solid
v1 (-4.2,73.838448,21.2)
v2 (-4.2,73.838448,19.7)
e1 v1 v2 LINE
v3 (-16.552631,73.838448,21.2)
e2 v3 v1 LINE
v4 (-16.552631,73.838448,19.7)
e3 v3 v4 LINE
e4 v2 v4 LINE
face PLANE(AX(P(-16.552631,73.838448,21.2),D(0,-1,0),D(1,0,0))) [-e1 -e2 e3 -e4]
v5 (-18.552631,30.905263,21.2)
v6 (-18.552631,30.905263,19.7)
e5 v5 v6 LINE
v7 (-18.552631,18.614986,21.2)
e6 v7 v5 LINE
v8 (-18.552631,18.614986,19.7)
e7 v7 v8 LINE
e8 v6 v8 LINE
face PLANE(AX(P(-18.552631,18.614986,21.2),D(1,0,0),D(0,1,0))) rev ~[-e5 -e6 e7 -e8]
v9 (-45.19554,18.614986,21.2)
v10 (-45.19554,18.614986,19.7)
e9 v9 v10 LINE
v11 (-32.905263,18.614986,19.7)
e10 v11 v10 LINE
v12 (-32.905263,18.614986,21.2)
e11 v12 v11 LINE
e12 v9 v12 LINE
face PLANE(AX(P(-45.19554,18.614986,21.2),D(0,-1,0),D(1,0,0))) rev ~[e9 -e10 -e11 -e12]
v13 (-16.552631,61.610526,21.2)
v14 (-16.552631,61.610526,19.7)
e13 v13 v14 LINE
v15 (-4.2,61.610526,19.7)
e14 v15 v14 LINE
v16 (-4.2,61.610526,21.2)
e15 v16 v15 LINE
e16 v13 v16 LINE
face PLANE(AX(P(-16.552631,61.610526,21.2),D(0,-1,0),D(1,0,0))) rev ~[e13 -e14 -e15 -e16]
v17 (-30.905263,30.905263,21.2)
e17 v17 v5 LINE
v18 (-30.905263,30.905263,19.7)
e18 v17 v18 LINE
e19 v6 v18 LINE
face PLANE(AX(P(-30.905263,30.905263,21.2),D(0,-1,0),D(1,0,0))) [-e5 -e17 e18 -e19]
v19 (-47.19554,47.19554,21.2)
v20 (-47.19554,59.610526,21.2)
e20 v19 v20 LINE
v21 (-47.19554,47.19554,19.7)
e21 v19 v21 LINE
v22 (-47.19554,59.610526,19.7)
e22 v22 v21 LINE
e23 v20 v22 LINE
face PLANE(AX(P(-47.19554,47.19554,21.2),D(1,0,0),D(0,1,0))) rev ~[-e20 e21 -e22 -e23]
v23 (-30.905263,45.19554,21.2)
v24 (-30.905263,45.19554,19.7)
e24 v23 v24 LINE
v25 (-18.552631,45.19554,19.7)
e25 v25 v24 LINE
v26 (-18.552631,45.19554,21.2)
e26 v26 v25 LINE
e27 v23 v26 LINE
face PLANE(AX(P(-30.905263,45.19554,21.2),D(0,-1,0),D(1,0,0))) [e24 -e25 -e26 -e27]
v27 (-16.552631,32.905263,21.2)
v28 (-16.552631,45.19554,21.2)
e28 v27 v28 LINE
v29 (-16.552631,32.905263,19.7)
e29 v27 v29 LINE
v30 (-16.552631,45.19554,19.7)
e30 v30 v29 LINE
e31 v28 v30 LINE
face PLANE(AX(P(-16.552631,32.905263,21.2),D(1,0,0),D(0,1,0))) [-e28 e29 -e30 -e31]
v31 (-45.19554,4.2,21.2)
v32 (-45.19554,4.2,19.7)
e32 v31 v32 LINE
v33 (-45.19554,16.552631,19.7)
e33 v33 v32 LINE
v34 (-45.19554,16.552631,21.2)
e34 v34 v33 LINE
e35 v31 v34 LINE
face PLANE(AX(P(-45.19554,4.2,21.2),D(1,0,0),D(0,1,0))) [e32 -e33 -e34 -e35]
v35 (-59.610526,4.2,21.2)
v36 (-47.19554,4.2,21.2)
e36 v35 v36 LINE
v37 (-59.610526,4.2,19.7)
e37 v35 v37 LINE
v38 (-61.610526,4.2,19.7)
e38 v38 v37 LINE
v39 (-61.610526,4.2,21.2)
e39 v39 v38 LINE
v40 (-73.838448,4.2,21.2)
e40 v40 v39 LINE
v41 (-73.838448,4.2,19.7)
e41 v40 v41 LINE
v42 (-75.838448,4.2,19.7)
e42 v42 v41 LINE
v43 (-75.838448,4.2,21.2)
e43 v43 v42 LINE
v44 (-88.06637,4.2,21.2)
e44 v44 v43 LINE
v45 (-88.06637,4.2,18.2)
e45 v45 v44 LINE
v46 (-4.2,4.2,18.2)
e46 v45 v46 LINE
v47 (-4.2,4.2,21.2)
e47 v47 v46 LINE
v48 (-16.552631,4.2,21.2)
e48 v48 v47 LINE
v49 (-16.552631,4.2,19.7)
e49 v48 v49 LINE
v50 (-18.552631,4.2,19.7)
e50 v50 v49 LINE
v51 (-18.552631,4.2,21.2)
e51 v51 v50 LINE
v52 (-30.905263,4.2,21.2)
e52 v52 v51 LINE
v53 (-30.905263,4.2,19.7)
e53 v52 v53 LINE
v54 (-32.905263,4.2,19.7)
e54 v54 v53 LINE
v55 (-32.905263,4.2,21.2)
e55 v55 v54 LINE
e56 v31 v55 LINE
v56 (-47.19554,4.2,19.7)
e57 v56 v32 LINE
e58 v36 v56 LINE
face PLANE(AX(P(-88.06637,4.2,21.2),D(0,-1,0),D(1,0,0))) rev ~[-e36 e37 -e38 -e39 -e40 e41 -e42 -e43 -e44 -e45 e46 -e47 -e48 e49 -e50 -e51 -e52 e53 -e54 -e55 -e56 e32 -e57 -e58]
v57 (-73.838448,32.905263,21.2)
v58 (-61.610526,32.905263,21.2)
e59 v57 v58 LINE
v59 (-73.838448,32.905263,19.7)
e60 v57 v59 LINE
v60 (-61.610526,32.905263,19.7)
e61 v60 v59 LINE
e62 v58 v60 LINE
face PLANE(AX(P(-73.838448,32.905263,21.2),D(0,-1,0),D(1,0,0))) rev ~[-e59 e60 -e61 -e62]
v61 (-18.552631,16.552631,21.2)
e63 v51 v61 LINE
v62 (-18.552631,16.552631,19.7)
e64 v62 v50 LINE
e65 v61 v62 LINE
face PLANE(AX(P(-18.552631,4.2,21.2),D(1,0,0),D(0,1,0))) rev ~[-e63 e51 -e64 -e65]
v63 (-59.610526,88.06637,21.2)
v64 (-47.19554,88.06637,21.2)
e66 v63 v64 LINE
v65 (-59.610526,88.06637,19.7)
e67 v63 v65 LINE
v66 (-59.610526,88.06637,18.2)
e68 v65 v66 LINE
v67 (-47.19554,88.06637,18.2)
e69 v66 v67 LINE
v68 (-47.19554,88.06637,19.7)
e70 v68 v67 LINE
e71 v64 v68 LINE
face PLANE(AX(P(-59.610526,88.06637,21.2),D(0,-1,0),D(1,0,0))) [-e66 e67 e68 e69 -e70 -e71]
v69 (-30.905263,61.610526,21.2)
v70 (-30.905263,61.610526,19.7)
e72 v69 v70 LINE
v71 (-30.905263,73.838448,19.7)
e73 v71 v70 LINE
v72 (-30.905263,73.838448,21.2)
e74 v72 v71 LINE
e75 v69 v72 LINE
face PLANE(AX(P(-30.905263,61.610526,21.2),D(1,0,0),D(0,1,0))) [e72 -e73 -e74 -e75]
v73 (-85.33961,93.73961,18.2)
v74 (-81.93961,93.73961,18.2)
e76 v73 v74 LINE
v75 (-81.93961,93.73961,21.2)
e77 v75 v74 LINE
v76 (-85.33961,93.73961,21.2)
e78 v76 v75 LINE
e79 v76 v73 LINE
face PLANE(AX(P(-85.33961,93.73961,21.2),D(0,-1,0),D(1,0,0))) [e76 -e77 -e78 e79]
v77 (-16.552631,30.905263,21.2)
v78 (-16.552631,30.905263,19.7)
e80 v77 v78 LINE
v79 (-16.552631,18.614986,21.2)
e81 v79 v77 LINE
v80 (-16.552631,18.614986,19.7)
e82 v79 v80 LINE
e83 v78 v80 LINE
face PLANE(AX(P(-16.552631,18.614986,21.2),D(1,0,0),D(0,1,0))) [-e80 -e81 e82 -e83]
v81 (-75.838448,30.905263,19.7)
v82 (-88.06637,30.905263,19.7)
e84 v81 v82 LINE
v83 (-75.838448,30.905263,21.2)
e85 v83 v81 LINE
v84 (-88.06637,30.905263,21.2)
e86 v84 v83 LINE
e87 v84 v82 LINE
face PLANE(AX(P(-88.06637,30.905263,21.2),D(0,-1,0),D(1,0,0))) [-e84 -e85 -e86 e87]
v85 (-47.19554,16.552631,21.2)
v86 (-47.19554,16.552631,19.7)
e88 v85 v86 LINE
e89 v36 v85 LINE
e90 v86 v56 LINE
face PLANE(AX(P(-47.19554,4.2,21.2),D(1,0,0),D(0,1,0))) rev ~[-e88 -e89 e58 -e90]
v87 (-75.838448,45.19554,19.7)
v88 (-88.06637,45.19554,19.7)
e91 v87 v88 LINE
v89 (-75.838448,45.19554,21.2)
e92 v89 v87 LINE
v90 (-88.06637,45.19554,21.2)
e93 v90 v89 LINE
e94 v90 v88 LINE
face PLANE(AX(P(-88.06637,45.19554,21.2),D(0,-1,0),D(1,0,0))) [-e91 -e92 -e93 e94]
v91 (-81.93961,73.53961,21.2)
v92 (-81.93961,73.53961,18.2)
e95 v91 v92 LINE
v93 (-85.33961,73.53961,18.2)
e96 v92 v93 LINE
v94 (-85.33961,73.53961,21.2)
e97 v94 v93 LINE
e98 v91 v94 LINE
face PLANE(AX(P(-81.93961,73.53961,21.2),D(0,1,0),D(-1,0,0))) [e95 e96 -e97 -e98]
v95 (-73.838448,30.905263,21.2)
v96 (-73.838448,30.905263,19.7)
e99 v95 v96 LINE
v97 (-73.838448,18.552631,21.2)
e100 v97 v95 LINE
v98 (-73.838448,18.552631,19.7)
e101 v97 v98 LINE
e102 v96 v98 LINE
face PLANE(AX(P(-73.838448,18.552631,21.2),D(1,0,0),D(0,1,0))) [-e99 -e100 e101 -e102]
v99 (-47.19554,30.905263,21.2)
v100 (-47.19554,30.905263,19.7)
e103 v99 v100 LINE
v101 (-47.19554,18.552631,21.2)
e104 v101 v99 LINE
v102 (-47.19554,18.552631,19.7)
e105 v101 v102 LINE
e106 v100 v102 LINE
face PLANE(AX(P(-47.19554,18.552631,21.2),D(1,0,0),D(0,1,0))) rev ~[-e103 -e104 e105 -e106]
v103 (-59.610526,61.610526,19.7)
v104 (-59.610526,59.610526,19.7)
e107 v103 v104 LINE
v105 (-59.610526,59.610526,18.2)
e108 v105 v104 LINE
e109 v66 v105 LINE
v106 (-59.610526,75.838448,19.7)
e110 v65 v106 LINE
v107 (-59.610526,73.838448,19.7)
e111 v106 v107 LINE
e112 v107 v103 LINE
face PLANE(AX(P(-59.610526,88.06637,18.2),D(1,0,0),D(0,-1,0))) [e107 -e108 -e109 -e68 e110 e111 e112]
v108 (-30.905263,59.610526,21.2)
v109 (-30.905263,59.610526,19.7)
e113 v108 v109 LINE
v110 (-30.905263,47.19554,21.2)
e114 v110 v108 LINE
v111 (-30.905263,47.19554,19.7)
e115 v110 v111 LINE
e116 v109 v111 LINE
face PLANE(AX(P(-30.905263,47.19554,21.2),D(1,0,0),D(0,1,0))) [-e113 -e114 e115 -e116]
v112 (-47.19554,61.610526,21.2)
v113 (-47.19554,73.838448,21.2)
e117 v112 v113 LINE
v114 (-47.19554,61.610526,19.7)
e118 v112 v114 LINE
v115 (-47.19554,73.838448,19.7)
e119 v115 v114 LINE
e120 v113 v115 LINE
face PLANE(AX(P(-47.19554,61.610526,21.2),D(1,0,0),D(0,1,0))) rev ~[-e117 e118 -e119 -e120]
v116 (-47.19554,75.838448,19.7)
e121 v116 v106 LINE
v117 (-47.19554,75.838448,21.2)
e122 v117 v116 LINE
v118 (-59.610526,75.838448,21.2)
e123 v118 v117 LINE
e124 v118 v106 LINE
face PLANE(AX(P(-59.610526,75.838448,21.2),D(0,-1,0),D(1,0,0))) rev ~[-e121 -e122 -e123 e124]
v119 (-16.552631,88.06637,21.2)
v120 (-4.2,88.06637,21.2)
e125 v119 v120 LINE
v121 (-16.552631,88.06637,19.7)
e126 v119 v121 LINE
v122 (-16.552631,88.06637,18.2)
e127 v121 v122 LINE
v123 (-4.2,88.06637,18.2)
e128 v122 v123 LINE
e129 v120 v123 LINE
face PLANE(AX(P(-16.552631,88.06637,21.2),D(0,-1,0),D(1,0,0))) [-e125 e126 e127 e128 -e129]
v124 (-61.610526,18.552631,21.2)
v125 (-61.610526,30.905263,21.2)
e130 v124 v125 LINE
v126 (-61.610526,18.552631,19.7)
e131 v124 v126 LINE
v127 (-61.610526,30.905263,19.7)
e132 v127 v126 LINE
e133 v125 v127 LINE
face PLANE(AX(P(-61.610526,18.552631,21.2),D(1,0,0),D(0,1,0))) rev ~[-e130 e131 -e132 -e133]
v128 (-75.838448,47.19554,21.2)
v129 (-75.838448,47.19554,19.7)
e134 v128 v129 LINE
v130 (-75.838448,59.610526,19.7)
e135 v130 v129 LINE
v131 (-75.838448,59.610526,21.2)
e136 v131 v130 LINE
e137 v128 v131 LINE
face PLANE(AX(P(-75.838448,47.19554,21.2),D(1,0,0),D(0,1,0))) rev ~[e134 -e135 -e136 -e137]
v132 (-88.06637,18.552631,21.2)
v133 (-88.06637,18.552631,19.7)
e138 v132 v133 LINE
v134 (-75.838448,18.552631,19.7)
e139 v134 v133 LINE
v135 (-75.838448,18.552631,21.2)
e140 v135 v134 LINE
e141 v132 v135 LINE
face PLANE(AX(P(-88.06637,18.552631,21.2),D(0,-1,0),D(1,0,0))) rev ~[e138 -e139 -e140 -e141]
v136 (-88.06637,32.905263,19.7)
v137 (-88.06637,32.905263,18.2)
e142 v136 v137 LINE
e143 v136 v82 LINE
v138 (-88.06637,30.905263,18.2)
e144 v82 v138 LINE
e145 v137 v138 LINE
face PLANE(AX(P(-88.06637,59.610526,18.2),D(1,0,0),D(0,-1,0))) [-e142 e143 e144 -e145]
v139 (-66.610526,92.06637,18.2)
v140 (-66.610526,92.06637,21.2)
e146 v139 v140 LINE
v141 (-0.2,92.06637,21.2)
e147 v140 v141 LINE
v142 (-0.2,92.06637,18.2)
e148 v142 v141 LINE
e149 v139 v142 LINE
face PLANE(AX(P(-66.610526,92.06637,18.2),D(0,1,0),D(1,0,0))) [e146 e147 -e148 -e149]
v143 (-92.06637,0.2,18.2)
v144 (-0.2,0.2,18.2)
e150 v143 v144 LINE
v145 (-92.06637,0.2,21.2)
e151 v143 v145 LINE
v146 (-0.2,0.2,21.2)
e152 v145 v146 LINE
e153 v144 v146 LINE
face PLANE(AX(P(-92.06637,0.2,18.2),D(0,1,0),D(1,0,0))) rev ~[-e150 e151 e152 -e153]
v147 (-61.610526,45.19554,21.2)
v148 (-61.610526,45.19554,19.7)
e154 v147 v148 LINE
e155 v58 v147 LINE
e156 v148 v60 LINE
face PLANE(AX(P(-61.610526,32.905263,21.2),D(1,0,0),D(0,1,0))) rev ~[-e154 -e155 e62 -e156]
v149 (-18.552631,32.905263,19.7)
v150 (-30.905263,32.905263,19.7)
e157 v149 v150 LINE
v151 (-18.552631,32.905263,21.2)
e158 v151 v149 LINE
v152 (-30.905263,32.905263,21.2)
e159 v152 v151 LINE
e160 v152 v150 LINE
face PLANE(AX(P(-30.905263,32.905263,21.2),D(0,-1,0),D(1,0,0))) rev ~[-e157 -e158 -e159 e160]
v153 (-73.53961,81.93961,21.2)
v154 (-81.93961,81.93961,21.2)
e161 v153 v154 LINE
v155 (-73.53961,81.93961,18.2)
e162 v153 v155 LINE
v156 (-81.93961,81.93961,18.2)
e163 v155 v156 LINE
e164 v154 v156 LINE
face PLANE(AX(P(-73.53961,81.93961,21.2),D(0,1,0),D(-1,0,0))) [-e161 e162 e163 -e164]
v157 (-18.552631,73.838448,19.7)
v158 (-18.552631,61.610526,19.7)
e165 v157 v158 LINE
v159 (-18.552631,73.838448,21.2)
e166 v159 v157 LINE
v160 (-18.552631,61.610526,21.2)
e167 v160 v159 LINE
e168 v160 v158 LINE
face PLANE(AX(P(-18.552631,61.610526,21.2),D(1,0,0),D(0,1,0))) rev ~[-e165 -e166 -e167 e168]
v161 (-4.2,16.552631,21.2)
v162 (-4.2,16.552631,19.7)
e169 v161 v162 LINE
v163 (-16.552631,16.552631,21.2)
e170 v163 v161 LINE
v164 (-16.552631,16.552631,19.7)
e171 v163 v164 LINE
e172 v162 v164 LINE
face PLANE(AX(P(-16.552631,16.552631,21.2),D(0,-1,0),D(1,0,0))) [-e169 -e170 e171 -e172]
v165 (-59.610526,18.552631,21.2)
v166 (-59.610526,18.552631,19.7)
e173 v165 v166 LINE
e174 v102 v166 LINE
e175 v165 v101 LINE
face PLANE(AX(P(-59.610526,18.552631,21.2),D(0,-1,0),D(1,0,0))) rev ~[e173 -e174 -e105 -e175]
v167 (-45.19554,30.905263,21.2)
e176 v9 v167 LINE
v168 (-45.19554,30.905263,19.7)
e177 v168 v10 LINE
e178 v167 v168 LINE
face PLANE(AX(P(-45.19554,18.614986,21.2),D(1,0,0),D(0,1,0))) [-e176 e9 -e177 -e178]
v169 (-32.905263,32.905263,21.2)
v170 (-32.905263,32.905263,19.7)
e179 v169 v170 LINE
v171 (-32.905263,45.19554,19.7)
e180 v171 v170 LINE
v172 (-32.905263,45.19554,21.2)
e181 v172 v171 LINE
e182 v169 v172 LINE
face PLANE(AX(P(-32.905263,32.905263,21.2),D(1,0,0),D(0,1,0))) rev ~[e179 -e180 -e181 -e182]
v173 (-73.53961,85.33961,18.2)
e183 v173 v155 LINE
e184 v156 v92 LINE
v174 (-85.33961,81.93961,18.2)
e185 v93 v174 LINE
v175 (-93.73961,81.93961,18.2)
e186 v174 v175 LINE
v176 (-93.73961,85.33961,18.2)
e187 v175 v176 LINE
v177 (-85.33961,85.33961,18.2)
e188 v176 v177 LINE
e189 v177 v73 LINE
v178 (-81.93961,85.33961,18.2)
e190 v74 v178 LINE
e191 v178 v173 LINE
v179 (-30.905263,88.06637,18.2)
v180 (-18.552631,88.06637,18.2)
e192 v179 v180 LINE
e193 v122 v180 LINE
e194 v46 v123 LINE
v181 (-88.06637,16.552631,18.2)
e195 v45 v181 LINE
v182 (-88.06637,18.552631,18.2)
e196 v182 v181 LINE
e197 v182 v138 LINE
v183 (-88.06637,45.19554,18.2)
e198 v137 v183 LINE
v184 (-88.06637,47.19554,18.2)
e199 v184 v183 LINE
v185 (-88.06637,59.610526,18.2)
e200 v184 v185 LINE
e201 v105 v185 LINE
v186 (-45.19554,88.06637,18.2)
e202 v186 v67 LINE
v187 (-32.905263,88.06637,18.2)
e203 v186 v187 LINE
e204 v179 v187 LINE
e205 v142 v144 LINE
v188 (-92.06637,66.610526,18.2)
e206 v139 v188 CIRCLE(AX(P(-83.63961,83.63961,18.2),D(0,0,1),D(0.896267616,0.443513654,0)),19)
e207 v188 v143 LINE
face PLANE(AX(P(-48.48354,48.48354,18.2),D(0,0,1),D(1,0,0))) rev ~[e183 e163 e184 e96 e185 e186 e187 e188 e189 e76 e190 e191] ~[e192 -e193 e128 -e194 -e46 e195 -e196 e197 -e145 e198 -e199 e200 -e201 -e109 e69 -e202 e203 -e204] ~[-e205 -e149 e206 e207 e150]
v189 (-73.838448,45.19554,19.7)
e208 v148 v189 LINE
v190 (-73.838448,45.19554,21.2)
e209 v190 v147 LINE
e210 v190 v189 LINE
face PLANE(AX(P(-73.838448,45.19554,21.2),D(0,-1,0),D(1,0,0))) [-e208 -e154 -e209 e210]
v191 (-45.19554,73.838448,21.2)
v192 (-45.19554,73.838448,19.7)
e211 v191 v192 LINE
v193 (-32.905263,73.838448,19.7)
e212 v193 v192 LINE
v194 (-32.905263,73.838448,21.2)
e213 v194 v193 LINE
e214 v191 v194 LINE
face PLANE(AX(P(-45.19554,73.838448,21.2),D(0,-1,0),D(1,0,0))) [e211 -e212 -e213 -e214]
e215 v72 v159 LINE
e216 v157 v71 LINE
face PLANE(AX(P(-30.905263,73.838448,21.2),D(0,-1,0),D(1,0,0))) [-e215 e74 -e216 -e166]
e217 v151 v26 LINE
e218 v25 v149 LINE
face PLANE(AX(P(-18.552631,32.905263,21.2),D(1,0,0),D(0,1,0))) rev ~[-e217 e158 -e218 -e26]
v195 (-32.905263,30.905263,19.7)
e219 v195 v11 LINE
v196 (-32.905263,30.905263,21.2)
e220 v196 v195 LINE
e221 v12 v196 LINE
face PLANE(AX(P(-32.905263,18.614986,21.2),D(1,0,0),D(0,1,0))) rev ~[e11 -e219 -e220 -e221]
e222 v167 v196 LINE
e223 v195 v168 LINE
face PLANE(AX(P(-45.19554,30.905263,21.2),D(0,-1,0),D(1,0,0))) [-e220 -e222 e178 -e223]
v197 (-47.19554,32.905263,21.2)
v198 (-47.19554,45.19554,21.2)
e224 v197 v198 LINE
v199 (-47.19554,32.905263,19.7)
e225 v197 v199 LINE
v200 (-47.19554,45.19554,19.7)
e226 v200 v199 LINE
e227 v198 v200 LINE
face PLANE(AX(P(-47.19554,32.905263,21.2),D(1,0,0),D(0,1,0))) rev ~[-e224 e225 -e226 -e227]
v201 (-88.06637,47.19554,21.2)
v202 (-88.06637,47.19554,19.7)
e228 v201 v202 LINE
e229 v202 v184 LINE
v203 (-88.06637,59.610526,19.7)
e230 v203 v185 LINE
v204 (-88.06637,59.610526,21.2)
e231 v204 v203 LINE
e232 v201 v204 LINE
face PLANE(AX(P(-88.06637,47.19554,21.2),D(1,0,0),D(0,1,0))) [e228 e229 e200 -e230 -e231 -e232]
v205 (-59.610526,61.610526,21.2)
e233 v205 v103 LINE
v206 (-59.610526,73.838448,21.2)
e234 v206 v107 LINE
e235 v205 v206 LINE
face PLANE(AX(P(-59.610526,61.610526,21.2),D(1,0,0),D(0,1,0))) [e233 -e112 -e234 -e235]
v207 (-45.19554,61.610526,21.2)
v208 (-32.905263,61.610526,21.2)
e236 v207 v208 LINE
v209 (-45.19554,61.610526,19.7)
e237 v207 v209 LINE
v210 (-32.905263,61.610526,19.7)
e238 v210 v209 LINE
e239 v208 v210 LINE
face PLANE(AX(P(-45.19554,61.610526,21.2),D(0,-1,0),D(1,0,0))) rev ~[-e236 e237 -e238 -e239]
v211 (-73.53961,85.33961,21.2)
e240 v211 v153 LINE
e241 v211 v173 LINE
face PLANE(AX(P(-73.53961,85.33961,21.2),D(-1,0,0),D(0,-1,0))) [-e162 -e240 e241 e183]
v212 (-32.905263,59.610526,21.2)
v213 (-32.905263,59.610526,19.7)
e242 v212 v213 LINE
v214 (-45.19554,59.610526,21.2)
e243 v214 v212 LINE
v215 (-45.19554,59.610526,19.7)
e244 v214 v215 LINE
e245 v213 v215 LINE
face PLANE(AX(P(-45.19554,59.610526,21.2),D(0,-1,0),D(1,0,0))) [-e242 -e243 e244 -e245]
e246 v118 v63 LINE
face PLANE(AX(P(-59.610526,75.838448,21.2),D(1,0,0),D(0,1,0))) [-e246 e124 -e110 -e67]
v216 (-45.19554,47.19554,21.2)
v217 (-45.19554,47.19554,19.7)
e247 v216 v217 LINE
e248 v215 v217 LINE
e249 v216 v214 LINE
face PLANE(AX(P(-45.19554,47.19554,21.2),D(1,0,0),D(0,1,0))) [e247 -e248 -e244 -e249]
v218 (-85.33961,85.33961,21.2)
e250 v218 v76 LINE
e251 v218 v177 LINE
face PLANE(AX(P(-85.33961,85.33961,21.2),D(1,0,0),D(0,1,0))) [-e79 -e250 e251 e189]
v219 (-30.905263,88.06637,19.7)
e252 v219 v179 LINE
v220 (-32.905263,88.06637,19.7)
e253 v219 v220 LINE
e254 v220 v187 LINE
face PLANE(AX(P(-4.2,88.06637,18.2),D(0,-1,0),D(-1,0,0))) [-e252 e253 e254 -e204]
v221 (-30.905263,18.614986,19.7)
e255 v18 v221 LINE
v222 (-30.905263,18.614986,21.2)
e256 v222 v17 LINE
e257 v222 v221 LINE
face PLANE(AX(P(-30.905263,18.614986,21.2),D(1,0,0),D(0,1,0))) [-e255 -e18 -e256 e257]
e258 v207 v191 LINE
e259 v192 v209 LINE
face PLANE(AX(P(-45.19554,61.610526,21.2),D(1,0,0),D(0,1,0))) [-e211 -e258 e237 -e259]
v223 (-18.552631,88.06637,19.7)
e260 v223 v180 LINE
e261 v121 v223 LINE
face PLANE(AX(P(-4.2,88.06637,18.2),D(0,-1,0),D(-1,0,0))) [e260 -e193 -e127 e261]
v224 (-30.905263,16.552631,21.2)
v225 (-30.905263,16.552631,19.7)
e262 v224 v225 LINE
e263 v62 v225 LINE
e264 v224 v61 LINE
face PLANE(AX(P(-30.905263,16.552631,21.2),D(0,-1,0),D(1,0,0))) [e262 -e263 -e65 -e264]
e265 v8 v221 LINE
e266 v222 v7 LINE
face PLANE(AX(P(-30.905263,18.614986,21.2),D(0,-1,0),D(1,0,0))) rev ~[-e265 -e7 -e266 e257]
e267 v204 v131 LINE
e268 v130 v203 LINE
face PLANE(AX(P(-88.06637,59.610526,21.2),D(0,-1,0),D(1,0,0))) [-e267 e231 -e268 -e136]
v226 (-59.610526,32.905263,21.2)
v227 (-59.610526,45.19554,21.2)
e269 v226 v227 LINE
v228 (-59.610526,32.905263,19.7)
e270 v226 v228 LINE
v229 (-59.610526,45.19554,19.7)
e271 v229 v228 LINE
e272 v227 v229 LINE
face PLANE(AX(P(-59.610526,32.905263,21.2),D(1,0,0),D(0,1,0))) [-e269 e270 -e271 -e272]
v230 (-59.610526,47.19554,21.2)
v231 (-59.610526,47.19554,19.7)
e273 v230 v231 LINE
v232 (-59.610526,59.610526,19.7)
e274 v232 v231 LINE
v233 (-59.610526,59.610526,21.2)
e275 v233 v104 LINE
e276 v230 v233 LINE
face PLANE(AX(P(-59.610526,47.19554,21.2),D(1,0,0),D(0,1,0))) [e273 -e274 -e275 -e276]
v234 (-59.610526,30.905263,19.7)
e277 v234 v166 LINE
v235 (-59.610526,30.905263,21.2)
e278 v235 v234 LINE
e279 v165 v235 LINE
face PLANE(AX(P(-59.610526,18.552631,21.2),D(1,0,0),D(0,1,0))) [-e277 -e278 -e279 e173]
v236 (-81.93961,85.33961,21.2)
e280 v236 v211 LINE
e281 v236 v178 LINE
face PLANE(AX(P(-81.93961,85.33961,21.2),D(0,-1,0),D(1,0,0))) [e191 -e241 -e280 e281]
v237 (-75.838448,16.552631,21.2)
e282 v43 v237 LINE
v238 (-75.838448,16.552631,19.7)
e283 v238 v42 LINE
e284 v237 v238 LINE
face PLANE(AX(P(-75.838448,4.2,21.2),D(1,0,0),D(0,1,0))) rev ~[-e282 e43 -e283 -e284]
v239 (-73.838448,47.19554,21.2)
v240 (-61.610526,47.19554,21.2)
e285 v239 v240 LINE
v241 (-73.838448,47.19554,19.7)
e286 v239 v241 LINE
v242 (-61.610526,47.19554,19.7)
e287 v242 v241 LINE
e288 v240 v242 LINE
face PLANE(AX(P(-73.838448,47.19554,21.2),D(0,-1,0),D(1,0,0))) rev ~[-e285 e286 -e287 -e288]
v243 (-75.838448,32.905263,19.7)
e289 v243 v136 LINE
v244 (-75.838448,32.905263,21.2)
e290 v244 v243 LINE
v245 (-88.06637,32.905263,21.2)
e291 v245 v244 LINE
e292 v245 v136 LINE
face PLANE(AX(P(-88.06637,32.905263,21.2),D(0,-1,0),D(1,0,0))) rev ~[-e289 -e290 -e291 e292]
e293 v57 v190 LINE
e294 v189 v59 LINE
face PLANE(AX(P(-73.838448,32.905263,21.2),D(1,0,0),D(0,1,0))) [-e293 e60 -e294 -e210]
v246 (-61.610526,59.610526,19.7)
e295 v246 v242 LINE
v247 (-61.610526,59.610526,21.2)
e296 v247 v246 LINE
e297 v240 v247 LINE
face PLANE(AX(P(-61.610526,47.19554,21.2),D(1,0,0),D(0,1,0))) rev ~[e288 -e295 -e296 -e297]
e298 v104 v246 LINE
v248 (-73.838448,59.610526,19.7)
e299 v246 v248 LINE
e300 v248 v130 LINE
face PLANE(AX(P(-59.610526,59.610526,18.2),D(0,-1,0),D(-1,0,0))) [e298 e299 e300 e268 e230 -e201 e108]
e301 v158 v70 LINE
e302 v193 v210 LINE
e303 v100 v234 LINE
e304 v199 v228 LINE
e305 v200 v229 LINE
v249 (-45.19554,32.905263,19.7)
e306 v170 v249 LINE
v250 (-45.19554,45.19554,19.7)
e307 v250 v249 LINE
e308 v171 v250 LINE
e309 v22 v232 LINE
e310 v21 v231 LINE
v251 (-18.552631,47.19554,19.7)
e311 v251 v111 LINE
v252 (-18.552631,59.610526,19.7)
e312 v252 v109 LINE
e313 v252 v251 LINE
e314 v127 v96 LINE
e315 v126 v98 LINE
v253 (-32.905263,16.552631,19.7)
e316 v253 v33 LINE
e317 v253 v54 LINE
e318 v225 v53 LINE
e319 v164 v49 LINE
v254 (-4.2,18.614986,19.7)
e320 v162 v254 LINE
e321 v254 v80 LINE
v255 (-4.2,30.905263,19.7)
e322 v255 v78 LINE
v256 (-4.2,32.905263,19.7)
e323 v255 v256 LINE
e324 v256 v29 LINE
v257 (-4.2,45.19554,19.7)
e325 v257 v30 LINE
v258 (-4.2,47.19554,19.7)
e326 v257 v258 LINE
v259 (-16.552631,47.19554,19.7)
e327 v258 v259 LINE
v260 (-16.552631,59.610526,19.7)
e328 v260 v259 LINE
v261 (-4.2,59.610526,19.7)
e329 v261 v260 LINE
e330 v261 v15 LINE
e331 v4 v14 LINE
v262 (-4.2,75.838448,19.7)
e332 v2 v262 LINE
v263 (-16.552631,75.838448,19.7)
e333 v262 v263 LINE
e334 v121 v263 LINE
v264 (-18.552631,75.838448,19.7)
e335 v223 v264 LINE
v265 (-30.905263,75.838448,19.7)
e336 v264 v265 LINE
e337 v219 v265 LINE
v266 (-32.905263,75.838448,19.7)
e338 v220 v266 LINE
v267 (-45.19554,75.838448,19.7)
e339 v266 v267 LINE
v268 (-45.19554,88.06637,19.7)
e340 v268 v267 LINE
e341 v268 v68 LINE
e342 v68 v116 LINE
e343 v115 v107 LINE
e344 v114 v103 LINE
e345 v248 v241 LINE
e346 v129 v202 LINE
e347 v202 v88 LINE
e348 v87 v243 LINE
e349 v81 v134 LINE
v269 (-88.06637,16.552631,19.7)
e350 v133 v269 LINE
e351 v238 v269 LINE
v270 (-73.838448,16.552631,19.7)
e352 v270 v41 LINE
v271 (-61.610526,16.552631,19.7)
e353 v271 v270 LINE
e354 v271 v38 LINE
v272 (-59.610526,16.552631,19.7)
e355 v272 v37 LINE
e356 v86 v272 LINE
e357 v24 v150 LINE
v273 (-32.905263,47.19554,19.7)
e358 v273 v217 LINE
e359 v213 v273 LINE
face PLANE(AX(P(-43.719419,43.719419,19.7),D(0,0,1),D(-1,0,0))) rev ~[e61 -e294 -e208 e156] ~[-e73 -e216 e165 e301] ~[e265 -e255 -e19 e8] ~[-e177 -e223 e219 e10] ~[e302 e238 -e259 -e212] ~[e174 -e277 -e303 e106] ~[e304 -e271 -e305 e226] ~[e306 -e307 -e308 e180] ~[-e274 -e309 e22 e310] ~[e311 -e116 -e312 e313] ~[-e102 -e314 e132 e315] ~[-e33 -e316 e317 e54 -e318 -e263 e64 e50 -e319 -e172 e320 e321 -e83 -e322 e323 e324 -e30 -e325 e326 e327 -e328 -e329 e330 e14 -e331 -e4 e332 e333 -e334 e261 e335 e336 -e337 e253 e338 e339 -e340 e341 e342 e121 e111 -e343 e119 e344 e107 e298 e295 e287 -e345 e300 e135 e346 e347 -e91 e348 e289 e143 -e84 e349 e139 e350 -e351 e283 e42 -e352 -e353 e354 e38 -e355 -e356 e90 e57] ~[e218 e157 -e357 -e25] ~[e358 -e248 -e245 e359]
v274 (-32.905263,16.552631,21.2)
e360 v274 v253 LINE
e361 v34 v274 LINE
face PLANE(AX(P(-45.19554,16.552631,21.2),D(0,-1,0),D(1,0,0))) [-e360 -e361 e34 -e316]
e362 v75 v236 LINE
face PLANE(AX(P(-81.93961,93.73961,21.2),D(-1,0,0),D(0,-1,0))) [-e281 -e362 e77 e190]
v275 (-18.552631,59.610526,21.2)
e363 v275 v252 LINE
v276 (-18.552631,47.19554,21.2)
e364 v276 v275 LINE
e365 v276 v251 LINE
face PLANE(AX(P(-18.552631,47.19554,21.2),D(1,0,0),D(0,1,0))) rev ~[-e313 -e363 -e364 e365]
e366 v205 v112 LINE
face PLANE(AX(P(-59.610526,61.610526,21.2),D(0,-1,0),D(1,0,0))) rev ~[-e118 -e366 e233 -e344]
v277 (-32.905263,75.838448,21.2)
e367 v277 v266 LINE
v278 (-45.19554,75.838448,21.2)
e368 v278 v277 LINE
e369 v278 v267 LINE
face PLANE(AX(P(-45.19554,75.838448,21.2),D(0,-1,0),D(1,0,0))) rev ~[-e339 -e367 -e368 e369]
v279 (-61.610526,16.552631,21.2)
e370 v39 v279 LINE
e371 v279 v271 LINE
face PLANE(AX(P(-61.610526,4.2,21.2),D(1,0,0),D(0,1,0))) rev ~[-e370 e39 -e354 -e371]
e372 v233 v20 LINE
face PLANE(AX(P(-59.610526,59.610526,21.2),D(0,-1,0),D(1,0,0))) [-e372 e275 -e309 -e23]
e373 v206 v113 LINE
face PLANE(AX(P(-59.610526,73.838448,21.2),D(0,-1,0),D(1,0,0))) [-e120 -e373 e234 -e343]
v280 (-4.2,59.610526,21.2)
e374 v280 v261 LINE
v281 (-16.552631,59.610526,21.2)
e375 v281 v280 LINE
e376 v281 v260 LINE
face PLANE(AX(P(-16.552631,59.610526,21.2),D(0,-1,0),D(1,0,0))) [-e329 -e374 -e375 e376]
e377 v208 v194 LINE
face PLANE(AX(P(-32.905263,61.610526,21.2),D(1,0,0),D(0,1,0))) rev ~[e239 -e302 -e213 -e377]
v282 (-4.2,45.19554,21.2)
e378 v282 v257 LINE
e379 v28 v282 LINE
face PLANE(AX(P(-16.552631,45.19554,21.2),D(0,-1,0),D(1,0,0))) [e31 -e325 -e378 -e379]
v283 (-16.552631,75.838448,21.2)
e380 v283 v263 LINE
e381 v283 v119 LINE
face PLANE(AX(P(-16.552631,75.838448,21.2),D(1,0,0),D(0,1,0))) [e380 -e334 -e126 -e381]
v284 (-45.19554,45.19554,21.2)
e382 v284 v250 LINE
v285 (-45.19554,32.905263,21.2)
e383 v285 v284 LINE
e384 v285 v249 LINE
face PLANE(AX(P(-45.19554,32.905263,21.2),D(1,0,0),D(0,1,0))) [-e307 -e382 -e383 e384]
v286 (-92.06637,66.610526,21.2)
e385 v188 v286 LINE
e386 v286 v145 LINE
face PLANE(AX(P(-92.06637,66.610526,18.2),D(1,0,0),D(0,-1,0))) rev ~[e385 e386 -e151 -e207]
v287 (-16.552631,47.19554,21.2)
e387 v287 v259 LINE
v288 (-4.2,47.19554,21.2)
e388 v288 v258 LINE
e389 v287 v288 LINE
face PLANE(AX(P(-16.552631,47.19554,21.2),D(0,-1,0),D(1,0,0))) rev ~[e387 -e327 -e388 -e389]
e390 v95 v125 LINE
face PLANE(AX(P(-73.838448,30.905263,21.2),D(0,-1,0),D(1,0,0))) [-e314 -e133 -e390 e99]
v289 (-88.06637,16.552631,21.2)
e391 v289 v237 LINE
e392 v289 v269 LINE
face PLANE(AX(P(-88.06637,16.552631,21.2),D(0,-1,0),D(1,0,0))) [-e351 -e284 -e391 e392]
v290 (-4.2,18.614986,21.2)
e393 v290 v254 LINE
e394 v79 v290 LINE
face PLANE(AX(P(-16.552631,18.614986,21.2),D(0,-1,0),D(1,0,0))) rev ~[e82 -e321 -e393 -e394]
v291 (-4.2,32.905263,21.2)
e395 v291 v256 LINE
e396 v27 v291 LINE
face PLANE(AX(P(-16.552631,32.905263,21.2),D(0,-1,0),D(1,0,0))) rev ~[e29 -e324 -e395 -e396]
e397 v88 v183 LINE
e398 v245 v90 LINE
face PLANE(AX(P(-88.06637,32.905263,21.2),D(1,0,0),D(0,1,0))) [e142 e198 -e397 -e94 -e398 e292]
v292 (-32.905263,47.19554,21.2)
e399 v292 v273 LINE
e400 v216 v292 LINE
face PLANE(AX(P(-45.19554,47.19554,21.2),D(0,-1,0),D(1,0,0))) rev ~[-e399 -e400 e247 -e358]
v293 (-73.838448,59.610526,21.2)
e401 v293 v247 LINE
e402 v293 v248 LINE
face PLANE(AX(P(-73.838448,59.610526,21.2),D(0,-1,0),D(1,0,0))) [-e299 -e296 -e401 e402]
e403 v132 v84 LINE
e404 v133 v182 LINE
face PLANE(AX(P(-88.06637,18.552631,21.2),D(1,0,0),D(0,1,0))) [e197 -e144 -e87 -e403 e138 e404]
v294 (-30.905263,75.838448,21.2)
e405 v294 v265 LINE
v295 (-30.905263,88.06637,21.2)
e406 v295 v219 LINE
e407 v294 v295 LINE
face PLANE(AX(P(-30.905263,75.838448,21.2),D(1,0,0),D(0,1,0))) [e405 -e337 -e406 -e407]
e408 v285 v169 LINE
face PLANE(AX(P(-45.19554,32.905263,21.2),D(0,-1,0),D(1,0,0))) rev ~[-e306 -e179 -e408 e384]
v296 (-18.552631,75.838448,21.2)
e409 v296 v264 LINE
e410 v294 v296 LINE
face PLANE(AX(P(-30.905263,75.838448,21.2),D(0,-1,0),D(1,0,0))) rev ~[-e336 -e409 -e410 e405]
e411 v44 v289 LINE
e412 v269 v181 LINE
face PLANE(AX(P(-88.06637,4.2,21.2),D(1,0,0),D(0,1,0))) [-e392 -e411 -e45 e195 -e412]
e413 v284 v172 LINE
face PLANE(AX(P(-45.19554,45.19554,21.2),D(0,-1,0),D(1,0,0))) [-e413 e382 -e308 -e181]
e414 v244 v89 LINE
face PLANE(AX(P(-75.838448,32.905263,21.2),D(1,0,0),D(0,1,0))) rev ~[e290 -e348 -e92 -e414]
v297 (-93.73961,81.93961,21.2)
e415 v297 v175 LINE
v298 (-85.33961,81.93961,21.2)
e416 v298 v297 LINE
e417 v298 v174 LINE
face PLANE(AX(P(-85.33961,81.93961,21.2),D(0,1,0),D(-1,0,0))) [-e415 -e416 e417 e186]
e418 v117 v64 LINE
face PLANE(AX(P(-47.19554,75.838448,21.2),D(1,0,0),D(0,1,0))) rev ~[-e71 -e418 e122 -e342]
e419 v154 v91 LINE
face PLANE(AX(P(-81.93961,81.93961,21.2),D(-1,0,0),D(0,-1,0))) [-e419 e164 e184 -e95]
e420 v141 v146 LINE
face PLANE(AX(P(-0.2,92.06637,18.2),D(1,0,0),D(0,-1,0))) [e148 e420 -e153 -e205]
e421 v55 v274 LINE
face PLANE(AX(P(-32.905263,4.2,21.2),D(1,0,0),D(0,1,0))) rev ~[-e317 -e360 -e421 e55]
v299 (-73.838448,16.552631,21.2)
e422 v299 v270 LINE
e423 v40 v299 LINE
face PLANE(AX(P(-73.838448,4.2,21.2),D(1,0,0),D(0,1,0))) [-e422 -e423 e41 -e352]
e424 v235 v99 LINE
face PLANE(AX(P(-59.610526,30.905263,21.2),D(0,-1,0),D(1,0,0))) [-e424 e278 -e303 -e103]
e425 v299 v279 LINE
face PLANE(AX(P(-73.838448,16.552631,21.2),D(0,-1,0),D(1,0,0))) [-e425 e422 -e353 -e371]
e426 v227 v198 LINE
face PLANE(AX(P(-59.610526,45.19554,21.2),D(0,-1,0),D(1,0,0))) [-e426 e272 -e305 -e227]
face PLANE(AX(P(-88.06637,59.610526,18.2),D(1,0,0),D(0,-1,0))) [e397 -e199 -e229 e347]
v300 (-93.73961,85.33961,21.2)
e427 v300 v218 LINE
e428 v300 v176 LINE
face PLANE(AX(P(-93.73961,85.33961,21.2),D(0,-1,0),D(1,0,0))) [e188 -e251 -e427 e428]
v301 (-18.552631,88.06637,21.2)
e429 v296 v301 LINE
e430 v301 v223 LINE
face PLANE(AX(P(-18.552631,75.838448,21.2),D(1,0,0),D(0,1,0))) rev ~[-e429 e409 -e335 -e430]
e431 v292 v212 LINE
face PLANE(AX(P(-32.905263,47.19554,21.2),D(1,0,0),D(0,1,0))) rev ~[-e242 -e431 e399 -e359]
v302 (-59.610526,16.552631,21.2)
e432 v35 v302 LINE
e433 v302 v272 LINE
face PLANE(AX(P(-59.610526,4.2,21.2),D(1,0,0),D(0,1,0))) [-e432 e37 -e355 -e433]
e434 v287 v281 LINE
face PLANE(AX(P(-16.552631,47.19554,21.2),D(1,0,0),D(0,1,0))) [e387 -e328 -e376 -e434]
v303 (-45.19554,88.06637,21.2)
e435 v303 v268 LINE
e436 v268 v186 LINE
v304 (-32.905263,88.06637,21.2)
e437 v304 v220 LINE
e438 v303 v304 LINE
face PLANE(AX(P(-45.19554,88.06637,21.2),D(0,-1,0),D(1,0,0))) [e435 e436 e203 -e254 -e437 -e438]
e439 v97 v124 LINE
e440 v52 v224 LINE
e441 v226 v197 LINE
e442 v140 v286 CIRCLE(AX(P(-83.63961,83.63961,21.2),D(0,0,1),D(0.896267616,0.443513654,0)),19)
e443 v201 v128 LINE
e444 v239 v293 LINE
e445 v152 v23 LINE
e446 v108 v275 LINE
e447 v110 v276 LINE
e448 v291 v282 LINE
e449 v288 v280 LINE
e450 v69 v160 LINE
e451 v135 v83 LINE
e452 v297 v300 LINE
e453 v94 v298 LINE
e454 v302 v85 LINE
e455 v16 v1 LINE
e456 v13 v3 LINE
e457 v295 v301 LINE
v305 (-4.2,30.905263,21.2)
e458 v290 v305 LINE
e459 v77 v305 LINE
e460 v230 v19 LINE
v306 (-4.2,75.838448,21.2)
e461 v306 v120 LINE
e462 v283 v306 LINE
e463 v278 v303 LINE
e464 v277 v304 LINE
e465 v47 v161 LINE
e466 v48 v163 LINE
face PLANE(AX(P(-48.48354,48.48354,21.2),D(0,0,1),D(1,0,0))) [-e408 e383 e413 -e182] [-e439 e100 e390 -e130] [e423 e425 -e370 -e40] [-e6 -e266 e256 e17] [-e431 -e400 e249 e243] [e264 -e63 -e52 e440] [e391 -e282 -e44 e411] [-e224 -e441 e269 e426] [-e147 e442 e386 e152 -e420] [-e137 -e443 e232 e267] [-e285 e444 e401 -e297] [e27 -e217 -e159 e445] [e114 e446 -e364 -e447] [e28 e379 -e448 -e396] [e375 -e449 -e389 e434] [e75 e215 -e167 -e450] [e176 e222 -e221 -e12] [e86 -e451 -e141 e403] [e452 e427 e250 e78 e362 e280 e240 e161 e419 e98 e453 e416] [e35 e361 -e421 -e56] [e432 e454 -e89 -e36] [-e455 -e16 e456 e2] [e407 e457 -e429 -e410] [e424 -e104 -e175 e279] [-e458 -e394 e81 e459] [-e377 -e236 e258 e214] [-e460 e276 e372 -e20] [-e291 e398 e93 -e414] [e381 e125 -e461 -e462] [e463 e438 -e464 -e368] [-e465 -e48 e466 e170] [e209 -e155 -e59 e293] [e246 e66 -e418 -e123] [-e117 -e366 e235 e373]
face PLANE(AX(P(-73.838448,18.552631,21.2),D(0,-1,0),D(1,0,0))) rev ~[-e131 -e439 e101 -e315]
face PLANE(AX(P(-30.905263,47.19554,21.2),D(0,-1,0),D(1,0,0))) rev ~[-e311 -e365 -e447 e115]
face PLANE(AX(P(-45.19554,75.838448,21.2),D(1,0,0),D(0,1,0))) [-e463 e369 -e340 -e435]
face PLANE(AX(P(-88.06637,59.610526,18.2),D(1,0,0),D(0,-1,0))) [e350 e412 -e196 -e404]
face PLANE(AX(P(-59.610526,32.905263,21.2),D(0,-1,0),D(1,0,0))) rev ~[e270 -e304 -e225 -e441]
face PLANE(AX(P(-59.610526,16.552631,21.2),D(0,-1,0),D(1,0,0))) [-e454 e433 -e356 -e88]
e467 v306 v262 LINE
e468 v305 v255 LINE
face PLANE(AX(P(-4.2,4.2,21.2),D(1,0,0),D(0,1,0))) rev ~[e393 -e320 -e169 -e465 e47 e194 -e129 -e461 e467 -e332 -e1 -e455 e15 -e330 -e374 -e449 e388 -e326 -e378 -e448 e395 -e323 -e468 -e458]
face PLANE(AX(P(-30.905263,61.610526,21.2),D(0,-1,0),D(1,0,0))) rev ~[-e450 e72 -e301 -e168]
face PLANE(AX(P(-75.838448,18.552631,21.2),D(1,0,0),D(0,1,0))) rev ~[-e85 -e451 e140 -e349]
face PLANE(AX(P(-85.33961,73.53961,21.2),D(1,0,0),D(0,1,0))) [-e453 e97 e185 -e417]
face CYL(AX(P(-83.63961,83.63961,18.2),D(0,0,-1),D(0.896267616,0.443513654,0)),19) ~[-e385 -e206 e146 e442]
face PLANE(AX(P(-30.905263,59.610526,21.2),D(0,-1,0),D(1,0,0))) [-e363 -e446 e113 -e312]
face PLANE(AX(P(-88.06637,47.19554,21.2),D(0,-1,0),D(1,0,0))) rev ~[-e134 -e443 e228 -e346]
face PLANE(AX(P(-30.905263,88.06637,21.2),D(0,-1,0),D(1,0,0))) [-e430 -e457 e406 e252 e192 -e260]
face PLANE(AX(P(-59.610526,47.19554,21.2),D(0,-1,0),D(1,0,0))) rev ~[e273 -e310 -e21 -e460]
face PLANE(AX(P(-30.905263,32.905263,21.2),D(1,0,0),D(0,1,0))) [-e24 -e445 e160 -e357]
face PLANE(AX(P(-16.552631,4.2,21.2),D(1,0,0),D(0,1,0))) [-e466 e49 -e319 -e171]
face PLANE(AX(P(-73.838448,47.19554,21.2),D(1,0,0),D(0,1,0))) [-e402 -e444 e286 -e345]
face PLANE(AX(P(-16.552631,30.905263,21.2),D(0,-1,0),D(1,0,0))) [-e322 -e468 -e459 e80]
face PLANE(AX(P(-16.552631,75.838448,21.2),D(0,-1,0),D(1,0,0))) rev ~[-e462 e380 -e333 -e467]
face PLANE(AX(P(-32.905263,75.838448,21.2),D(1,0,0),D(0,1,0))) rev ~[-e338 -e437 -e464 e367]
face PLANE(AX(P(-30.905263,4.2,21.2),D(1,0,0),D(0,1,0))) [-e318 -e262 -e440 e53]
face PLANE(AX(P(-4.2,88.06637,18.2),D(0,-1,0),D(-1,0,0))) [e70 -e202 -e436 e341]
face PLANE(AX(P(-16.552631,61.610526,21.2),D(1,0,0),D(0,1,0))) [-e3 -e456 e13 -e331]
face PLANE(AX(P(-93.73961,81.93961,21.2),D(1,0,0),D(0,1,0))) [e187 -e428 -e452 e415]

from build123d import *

# Parameters (mm, degrees)
PAD039_DEPTH    = 3
SKETCH067_W     = 12.2279220614
SKETCH067_H     = 12.4149860738
SKETCH067_H_2   = 12.2902767322
SKETCH067_H_3   = 12.352631403
SKETCH067_W_2   = 12.4149860738
SKETCH067_W_3   = 12.2902767322
SKETCH067_W_4   = 12.352631403
SKETCH067_H_4   = 12.2279220614
POCKET027_DEPTH = 3.001
POCKET028_DEPTH = 1.5


with BuildPart() as part:
    # Sketch066 (on Face3 of Binder013) → Pad039 (new body)
    with BuildSketch(Plane.XY.offset(18.2)):
        with BuildLine():
            ThreePointArc((-66.6105256119, 92.0663697346), (-97.0746391493, 97.0746391493), (-92.0663697346, 66.6105256119))
            Line((-92.0663697346, 66.6105256119), (-92.0663697346, 0.2))
            Line((-92.0663697346, 0.2), (-0.2, 0.2))
            Line((-0.2, 92.0663697346), (-0.2, 0.2))
            Line((-66.6105256119, 92.0663697346), (-0.2, 92.0663697346))
        make_face()
    extrude(amount=PAD039_DEPTH)

    # Sketch067 (on Face7 of Pad039) → Pocket027 (cut, through all)
    with BuildSketch(Plane.XY.offset(21.2)):
        Polygon((-93.7396103068, 85.3396103068), (-85.3396103068, 85.3396103068), (-85.3396103068, 93.7396103068), (-81.9396103068, 93.7396103068), (-81.9396103068, 85.3396103068), (-73.5396103068, 85.3396103068), (-73.5396103068, 81.9396103068), (-81.9396103068, 81.9396103068), (-81.9396103068, 73.5396103068), (-85.3396103068, 73.5396103068), (-85.3396103068, 81.9396103068), (-93.7396103068, 81.9396103068), align=None)
        with Locations((-81.9524087039, 53.403032575)):
            Rectangle(SKETCH067_W, SKETCH067_H)
        with Locations((-67.7244866426, 53.403032575)):
            Rectangle(SKETCH067_W, SKETCH067_H)
        with Locations((-81.9524087039, 39.050401172)):
            Rectangle(SKETCH067_W, SKETCH067_H_2)
        with Locations((-67.7244866426, 39.050401172)):
            Rectangle(SKETCH067_W, SKETCH067_H_2)
        with Locations((-81.9524087039, 24.7289471045)):
            Rectangle(SKETCH067_W, SKETCH067_H_3)
        with Locations((-67.7244866426, 24.7289471045)):
            Rectangle(SKETCH067_W, SKETCH067_H_3)
        with Locations((-81.9524087039, 10.3763157015)):
            Rectangle(SKETCH067_W, SKETCH067_H_3)
        with Locations((-67.7244866426, 10.3763157015)):
            Rectangle(SKETCH067_W, SKETCH067_H_3)
        with Locations((-53.403032575, 10.3763157015)):
            Rectangle(SKETCH067_W_2, SKETCH067_H_3)
        with Locations((-39.050401172, 10.3763157015)):
            Rectangle(SKETCH067_W_3, SKETCH067_H_3)
        with Locations((-24.7289471045, 10.3763157015)):
            Rectangle(SKETCH067_W_4, SKETCH067_H_3)
        with Locations((-10.3763157015, 10.3763157015)):
            Rectangle(SKETCH067_W_4, SKETCH067_H_3)
        with Locations((-10.3763157015, 24.7601244399)):
            Rectangle(SKETCH067_W_4, SKETCH067_H_2)
        with Locations((-24.7289471045, 24.7601244399)):
            Rectangle(SKETCH067_W_4, SKETCH067_H_2)
        with Locations((-39.050401172, 24.7601244399)):
            Rectangle(SKETCH067_W_3, SKETCH067_H_2)
        with Locations((-53.403032575, 24.7289471045)):
            Rectangle(SKETCH067_W_2, SKETCH067_H_3)
        with Locations((-53.403032575, 39.050401172)):
            Rectangle(SKETCH067_W_2, SKETCH067_H_2)
        with Locations((-39.050401172, 39.050401172)):
            Rectangle(SKETCH067_W_3, SKETCH067_H_2)
        with Locations((-24.7289471045, 39.050401172)):
            Rectangle(SKETCH067_W_4, SKETCH067_H_2)
        with Locations((-10.3763157015, 39.050401172)):
            Rectangle(SKETCH067_W_4, SKETCH067_H_2)
        with Locations((-10.3763157015, 53.403032575)):
            Rectangle(SKETCH067_W_4, SKETCH067_H)
        with Locations((-24.7289471045, 53.403032575)):
            Rectangle(SKETCH067_W_4, SKETCH067_H)
        with Locations((-39.050401172, 53.403032575)):
            Rectangle(SKETCH067_W_3, SKETCH067_H)
        with Locations((-53.403032575, 53.403032575)):
            Rectangle(SKETCH067_W_2, SKETCH067_H)
        with Locations((-53.403032575, 67.7244866426)):
            Rectangle(SKETCH067_W_2, SKETCH067_H_4)
        with Locations((-39.050401172, 67.7244866426)):
            Rectangle(SKETCH067_W_3, SKETCH067_H_4)
        with Locations((-24.7289471045, 67.7244866426)):
            Rectangle(SKETCH067_W_4, SKETCH067_H_4)
        with Locations((-10.3763157015, 67.7244866426)):
            Rectangle(SKETCH067_W_4, SKETCH067_H_4)
        with Locations((-10.3763157015, 81.9524087039)):
            Rectangle(SKETCH067_W_4, SKETCH067_H_4)
        with Locations((-24.7289471045, 81.9524087039)):
            Rectangle(SKETCH067_W_4, SKETCH067_H_4)
        with Locations((-39.050401172, 81.9524087039)):
            Rectangle(SKETCH067_W_3, SKETCH067_H_4)
        with Locations((-53.403032575, 81.9524087039)):
            Rectangle(SKETCH067_W_2, SKETCH067_H_4)
    extrude(amount=-POCKET027_DEPTH, mode=Mode.SUBTRACT)

    # Sketch068 (on Face4 of Pocket027) → Pocket028 (cut)
    with BuildSketch(Plane(origin=(0, 0, 18.2), x_dir=(1, 0, 0), z_dir=(0, 0, -1))):
        Polygon((-88.06637, -4.2), (-4.2, -4.2), (-4.2, -88.06637), (-59.610526, -88.06637), (-59.610526, -59.610526), (-88.06637, -59.610526), align=None)
    extrude(amount=-POCKET028_DEPTH, mode=Mode.SUBTRACT)


solid = part.part
